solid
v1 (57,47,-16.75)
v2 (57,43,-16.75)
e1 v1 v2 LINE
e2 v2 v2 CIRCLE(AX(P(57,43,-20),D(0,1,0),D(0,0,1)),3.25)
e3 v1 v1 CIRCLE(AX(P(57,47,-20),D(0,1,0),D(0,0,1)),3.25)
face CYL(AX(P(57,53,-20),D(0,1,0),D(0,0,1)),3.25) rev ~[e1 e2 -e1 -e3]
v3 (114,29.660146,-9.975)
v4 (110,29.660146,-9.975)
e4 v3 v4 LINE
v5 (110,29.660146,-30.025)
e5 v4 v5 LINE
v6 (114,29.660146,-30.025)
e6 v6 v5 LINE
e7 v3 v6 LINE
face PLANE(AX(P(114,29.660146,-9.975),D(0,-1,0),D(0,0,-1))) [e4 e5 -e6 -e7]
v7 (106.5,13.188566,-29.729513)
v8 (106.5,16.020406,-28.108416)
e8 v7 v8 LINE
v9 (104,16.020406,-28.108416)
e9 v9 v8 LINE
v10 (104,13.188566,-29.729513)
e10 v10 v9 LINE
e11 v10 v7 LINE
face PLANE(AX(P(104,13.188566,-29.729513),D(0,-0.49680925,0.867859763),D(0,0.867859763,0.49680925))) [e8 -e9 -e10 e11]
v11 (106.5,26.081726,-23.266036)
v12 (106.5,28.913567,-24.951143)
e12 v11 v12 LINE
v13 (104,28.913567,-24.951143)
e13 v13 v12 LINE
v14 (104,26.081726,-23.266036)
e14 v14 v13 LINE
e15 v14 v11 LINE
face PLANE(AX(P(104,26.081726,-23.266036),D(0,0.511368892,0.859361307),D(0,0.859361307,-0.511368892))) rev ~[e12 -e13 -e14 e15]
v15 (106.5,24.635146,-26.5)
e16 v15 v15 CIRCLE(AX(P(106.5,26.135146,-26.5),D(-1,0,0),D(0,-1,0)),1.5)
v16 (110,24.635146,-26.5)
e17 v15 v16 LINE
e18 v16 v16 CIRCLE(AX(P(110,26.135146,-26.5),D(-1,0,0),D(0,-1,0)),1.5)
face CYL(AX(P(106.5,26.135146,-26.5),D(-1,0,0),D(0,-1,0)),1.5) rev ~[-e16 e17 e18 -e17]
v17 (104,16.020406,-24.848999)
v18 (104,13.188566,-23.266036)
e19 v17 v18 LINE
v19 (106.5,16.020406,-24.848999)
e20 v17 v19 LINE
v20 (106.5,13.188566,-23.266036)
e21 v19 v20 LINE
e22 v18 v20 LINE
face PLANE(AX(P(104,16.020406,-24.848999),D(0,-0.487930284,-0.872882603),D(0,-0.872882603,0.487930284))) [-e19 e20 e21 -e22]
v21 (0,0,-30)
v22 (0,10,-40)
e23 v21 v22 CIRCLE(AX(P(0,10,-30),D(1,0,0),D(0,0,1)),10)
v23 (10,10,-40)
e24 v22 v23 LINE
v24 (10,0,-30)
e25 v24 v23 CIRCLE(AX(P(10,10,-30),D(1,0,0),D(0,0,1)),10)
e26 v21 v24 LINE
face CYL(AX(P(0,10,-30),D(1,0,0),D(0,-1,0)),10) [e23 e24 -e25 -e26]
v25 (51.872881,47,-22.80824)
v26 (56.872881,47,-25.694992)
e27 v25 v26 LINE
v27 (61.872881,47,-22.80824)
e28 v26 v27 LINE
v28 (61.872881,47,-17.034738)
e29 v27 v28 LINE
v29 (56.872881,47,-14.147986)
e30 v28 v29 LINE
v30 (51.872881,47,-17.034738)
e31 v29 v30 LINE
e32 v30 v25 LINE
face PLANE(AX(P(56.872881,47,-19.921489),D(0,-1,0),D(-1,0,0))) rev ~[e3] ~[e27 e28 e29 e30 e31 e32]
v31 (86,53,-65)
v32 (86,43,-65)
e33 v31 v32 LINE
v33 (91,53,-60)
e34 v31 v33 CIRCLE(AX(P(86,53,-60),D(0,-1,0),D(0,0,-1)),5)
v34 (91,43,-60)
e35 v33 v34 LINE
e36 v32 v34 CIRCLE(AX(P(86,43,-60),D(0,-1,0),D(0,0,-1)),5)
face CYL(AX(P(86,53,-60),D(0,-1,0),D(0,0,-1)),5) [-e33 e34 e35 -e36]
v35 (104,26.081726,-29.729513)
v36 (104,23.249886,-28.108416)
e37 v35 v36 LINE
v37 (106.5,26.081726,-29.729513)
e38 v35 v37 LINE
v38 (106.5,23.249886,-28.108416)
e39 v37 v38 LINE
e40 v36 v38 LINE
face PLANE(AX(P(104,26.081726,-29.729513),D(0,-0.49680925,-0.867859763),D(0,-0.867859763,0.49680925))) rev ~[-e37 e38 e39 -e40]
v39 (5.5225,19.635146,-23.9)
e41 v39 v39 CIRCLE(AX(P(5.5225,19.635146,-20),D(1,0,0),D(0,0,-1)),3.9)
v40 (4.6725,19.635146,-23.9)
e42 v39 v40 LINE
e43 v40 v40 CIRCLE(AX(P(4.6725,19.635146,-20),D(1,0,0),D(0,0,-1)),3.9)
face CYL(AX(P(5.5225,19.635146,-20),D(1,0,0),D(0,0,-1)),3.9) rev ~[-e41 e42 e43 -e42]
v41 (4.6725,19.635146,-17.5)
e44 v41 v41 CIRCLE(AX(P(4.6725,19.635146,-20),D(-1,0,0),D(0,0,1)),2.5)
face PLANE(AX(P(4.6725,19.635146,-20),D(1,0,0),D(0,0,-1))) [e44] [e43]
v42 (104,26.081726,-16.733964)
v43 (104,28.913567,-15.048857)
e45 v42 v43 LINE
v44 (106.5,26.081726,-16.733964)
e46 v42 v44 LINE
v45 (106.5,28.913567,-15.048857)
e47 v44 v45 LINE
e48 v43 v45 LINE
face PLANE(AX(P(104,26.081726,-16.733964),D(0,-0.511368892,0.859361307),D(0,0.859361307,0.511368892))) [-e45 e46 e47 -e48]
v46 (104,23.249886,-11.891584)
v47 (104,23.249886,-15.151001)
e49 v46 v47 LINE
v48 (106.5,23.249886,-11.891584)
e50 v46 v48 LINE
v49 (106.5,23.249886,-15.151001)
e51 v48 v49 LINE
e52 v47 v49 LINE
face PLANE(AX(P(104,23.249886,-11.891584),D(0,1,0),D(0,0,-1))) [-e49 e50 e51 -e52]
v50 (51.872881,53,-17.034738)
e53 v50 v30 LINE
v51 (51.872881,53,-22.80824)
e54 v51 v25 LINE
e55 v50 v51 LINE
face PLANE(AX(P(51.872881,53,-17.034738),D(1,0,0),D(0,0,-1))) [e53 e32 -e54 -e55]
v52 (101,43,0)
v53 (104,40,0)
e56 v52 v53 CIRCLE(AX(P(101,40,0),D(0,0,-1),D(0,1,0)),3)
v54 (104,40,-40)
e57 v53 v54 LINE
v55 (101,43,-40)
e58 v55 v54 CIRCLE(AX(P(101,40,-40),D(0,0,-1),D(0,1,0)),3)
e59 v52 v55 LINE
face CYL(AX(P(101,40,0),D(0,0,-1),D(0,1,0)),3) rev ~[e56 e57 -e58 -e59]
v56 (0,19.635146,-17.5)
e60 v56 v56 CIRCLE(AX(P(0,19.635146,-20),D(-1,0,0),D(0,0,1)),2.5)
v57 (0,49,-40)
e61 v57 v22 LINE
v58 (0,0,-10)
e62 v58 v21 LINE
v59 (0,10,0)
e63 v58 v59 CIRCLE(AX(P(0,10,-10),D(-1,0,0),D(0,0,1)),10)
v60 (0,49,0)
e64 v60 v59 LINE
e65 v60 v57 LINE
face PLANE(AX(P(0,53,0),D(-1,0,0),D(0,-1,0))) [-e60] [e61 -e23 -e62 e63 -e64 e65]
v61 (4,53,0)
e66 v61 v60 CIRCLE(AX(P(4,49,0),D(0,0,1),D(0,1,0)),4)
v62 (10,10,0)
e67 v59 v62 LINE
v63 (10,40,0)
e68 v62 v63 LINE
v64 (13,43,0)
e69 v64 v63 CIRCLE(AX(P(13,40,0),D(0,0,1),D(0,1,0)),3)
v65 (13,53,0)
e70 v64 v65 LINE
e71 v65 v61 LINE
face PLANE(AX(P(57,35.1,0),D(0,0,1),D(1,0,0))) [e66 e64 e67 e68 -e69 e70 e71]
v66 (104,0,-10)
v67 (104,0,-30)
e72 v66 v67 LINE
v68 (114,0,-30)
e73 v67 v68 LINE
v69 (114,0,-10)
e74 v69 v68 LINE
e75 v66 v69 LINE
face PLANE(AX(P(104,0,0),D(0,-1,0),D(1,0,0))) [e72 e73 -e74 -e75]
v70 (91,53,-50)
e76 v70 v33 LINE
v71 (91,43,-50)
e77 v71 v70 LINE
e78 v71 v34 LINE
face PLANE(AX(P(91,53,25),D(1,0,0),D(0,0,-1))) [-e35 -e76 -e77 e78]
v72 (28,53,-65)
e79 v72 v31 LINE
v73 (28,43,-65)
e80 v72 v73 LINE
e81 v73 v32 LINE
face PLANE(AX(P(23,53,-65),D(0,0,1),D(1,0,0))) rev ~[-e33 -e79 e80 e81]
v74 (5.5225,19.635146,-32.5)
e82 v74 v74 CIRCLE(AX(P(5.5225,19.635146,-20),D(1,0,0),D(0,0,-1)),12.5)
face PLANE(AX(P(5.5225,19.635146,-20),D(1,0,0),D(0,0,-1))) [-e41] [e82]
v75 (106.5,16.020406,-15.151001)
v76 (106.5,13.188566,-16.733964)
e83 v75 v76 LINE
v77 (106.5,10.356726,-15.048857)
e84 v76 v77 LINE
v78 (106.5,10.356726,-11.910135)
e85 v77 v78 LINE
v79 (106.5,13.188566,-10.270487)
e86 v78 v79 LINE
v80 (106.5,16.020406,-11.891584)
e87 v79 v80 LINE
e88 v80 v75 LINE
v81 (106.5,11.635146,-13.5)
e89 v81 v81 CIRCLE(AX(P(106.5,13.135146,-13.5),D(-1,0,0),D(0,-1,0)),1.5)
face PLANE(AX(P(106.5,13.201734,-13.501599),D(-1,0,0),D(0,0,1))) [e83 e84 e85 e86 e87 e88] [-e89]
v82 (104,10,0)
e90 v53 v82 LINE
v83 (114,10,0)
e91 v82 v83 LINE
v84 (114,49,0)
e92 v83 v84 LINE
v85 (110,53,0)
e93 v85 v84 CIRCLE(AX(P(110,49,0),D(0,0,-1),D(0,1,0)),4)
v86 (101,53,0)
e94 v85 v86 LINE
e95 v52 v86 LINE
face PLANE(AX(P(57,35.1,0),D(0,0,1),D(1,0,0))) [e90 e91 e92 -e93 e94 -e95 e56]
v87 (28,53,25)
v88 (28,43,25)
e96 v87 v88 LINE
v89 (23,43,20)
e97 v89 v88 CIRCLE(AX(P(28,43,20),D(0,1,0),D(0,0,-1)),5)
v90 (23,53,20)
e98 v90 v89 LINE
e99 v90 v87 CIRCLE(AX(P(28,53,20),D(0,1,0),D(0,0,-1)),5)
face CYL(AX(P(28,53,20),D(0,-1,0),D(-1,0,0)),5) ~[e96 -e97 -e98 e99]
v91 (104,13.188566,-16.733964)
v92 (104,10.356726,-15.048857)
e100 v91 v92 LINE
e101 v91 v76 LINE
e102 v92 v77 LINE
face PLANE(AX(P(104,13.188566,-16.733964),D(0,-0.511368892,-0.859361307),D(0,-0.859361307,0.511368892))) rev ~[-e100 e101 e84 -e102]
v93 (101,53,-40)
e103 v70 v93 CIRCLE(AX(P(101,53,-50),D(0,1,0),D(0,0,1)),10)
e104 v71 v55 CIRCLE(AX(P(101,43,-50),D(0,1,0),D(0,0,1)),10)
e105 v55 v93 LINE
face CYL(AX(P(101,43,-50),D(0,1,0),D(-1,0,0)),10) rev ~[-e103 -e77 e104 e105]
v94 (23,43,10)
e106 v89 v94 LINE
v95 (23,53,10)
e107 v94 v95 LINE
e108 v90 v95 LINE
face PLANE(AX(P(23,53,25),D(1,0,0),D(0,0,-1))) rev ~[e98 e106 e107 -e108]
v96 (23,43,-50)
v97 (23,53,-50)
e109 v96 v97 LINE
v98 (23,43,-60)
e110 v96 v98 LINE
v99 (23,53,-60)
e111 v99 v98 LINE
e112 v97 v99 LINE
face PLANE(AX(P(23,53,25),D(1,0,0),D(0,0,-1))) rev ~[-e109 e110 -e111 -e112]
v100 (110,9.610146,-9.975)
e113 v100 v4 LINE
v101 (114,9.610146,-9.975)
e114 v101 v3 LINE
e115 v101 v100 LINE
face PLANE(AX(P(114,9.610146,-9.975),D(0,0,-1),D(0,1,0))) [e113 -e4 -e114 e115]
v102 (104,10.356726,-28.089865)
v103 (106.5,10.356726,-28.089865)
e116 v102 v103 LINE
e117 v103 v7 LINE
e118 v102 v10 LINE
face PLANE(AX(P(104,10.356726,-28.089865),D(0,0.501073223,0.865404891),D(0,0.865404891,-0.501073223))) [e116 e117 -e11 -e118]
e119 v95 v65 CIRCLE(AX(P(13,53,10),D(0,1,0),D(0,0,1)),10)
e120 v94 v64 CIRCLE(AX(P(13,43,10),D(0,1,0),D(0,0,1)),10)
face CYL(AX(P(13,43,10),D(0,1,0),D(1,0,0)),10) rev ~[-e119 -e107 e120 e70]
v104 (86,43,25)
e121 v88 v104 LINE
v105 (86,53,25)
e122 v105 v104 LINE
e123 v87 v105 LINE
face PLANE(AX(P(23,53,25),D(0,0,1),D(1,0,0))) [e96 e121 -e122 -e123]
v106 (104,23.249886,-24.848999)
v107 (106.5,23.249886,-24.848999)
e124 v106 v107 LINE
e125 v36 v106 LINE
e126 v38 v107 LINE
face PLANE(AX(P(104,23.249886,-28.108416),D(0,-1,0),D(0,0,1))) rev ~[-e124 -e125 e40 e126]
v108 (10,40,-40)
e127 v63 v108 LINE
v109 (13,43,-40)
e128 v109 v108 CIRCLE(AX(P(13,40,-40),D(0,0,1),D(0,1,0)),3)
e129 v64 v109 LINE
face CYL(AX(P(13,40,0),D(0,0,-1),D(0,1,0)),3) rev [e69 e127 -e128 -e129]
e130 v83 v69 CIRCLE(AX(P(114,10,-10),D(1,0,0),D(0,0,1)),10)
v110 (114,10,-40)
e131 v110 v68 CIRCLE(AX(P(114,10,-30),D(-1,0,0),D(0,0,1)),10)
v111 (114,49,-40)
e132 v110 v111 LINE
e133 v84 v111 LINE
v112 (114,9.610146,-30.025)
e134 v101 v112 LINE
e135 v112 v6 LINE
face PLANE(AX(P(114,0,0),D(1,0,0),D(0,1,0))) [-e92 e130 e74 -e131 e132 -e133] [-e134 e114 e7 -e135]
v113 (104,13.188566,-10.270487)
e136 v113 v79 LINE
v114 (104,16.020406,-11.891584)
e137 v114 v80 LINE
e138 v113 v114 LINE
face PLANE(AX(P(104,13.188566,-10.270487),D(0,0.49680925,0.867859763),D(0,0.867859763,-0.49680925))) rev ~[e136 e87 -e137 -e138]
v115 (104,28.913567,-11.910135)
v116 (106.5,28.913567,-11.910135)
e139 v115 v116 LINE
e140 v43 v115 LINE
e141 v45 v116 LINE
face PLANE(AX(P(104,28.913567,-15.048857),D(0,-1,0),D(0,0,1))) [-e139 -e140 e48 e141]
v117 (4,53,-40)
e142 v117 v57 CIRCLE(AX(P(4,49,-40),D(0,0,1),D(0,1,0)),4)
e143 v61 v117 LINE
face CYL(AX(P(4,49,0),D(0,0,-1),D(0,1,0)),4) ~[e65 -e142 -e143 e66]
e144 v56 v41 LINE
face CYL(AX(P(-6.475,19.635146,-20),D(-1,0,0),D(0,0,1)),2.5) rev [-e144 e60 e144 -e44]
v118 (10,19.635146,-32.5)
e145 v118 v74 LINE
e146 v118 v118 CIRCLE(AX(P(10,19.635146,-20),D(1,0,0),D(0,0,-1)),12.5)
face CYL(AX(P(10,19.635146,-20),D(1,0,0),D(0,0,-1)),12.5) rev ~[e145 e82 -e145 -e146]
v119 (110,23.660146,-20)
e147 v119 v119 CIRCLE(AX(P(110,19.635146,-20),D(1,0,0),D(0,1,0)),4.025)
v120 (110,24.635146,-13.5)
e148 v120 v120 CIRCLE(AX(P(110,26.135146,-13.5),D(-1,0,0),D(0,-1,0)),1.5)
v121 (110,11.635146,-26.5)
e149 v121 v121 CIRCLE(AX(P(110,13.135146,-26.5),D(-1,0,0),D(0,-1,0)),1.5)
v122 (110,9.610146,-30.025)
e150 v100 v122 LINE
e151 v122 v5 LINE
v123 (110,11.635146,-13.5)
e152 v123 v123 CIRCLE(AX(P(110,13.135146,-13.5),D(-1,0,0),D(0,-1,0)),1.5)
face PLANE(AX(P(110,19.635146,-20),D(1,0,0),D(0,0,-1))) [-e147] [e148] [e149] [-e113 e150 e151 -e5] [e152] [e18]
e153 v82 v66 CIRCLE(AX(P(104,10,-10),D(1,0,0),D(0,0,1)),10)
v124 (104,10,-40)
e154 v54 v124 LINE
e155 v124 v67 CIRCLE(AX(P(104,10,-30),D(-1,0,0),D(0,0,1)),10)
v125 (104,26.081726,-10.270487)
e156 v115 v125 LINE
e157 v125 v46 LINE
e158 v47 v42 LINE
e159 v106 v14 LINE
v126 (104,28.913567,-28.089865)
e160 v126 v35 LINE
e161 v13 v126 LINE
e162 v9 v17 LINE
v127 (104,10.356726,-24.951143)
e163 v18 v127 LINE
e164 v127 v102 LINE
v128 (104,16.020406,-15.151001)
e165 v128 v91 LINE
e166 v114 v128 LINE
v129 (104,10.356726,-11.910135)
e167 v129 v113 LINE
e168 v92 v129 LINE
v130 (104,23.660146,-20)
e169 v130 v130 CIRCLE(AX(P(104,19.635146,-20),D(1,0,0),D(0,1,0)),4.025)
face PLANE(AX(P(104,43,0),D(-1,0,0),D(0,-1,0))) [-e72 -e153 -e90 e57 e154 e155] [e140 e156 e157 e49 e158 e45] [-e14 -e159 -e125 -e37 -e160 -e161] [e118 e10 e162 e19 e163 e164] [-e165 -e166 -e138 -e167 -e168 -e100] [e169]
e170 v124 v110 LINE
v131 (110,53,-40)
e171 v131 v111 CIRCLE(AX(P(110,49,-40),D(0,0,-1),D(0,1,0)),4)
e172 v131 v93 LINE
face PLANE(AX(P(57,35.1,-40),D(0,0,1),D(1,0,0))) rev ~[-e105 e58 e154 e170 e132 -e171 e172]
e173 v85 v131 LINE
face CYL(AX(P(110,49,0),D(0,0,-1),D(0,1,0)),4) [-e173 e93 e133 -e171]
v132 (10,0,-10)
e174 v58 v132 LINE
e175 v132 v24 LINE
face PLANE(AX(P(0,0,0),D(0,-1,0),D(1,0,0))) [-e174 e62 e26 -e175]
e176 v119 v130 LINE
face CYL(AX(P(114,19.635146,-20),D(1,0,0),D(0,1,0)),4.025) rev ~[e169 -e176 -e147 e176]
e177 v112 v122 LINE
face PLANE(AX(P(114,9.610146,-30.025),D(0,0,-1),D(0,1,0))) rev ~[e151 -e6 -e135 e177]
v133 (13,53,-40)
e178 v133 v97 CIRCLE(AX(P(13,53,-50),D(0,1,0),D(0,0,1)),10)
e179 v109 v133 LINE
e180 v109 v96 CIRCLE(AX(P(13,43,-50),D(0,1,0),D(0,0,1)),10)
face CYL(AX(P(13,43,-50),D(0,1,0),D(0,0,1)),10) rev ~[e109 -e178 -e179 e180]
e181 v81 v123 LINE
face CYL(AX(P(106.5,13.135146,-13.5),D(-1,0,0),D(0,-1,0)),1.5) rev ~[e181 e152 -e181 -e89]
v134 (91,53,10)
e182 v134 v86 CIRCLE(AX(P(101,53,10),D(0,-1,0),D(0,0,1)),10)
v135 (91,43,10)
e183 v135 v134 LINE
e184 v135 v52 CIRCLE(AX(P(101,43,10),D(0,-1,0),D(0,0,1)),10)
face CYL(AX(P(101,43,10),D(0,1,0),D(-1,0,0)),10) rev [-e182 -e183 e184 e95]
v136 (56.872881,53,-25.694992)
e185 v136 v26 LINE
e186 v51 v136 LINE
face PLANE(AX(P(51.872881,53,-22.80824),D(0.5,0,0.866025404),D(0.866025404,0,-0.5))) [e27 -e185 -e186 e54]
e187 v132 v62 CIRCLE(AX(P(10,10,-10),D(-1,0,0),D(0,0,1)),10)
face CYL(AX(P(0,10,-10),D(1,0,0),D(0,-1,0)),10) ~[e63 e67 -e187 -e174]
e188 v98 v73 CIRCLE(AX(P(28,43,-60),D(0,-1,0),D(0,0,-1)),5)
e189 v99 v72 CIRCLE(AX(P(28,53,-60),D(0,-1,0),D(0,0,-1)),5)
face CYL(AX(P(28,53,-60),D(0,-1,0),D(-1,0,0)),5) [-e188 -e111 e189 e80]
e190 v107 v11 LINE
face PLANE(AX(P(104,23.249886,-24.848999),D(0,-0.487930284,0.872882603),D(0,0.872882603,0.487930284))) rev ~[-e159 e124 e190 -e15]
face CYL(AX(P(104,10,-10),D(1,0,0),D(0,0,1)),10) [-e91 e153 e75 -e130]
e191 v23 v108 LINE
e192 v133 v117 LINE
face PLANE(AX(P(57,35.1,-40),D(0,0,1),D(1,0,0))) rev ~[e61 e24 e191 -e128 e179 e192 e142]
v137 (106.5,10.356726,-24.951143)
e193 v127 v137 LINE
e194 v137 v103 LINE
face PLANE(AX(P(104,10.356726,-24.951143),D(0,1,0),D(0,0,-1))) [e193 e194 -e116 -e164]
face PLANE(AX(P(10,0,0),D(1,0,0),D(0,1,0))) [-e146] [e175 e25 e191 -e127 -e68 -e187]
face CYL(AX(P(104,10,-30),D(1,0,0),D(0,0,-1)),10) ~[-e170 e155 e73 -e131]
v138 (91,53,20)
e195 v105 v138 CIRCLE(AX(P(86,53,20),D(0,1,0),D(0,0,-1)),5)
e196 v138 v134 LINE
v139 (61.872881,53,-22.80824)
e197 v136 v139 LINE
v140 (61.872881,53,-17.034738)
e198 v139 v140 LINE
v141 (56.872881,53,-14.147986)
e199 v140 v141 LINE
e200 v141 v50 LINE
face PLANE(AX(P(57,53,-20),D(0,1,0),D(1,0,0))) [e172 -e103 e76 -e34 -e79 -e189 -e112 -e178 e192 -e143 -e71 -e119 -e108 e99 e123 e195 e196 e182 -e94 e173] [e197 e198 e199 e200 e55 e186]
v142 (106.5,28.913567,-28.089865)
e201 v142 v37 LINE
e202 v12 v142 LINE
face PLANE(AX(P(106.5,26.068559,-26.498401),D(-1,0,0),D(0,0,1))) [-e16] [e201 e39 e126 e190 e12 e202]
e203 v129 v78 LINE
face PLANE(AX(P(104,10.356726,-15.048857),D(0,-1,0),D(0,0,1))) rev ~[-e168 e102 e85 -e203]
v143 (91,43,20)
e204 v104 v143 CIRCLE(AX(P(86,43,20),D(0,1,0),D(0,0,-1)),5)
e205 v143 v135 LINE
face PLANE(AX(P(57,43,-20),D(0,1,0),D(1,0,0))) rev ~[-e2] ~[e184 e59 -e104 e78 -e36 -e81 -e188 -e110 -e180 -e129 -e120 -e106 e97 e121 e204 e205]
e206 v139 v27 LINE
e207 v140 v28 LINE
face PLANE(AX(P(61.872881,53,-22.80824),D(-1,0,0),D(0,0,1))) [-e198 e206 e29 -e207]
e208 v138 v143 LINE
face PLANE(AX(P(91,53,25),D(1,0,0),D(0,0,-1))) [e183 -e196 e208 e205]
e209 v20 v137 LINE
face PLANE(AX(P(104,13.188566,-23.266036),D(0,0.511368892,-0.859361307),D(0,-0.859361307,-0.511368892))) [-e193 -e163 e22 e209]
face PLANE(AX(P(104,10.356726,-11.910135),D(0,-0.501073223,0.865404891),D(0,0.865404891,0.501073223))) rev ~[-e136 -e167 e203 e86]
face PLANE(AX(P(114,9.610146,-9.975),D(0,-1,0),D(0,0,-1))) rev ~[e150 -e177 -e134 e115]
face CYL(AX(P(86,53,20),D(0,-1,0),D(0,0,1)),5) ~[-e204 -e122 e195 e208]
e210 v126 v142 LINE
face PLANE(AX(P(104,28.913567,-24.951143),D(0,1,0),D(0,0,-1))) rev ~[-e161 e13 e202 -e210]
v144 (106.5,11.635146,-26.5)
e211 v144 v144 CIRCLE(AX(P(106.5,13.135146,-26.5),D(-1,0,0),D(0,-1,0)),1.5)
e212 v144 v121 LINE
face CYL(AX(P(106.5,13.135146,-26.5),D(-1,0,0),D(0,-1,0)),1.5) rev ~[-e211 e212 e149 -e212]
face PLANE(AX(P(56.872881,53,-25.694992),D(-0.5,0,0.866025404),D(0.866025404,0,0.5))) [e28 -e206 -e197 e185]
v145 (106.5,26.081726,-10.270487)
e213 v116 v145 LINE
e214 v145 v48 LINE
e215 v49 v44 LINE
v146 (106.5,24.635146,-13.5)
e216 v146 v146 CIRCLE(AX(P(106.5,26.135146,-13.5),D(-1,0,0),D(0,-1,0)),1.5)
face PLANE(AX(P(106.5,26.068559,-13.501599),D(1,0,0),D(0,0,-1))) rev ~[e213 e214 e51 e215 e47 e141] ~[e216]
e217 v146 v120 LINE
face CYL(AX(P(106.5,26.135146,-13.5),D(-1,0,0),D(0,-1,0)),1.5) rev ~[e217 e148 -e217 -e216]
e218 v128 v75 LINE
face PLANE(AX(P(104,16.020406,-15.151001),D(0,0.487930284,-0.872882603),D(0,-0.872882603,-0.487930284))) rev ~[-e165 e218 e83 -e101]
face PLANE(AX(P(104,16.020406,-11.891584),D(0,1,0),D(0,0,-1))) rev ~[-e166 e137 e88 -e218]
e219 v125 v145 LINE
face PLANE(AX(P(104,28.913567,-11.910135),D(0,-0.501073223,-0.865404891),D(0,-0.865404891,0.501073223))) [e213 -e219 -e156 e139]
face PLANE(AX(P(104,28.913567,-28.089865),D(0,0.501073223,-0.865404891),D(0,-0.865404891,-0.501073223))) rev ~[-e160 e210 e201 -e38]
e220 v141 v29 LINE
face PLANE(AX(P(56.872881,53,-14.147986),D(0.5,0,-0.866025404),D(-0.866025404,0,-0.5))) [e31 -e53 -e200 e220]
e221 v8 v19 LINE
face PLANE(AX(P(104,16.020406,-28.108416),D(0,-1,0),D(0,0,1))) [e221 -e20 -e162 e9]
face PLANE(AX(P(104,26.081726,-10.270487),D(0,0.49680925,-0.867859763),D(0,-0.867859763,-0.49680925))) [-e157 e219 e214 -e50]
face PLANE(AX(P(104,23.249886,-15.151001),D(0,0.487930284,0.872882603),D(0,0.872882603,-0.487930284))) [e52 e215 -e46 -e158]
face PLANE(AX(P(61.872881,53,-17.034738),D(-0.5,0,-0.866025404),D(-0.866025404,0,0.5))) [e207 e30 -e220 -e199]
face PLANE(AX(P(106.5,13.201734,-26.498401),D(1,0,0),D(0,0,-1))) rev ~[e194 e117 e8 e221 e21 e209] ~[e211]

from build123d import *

# Parameters (mm, degrees)
BOSS_EXTRUDE1_DEPTH     = 40
SKETCH2_R               = 12.5
CUT_EXTRUDE1_DEPTH      = 4.4775
FILLET1_R               = 10
CUT_EXTRUDE2_DEPTH      = 131.2
CUT_EXTRUDE2_DEPTH_BACK = 14.2
SKETCH4_R               = 2.5
SKETCH6_W               = 68
SKETCH6_H               = 90
BOSS_EXTRUDE4_DEPTH     = 10
FILLET2_R               = 10
FILLET3_R               = 5
FILLET4_R               = 4
CUT_EXTRUDE3_START      = -2.2025
SKETCH7_R               = 3.9
CUT_EXTRUDE3_DEPTH      = 0.85
SKETCH8_R               = 3.25
CUT_EXTRUDE4_DEPTH      = 10
SKETCH9_R               = 4.025
CUT_EXTRUDE5_DEPTH      = 12
SKETCH10_W              = 20.05
SKETCH10_H              = 20.05
CUT_EXTRUDE6_DEPTH      = 4
CUT_EXTRUDE7_DEPTH      = 6
CUT_EXTRUDE9_DEPTH      = 2.5
CUT_EXTRUDE10_REACH     = 138.104
CUT_EXTRUDE10_START     = -2.5
SKETCH15_R              = 1.5
FILLET5_R               = 3


with BuildPart() as part:
    # Sketch1 → Boss-Extrude1 (new body)
    with BuildSketch(Plane.XY):
        Polygon((10, 0), (10, 43), (104, 43), (104, 0), (114, 0), (114, 53), (0, 53), (0, 0), align=None)
    extrude(amount=-BOSS_EXTRUDE1_DEPTH)

    # Sketch2 → Cut-Extrude1 (cut)
    with BuildSketch(Plane(origin=(10, 0, 0), x_dir=(0, 0, -1), z_dir=(1, 0, 0))):
        with Locations((20, 19.635146369)):
            Circle(SKETCH2_R)
    extrude(amount=-CUT_EXTRUDE1_DEPTH, mode=Mode.SUBTRACT)

    # Fillet1
    fillet1_edges = [part.edges().sort_by_distance(p)[0] for p in [
        (5, 0, 0),
        (109, 0, -40),
        (5, 0, -40),
        (109, 0, 0),
    ]]
    fillet(fillet1_edges, radius=FILLET1_R)

    # Sketch4 → Cut-Extrude2 (cut, two sides: drawn at the far end of the back side and taken through both)
    with BuildSketch(Plane(origin=(7.725, 0, 0), x_dir=(0, 0, -1), z_dir=(1, 0, 0)).offset(-CUT_EXTRUDE2_DEPTH_BACK)):
        with Locations(Location((20, 19.635146369, 0), (0, 0, 180))):
            Circle(SKETCH4_R)
    extrude(amount=CUT_EXTRUDE2_DEPTH + CUT_EXTRUDE2_DEPTH_BACK, mode=Mode.SUBTRACT)

    # Sketch6 → Boss-Extrude4 (add)
    with BuildSketch(Plane(origin=(0, 53, 0), x_dir=(1, 0, 0), z_dir=(0, 1, 0))):
        with Locations((57, 20)):
            Rectangle(SKETCH6_W, SKETCH6_H)
    extrude(amount=-BOSS_EXTRUDE4_DEPTH)

    # Fillet2
    fillet2_edges = [part.edges().sort_by_distance(p)[0] for p in [
        (23, 48, 0),
        (91, 48, 0),
        (91, 48, -40),
        (23, 48, -40),
    ]]
    fillet(fillet2_edges, radius=FILLET2_R)

    # Fillet3
    fillet3_edges = [part.edges().sort_by_distance(p)[0] for p in [
        (23, 48, 25),
        (91, 48, -65),
        (91, 48, 25),
        (23, 48, -65),
    ]]
    fillet(fillet3_edges, radius=FILLET3_R)

    # Fillet4
    fillet4_edges = [part.edges().sort_by_distance(p)[0] for p in [
        (0, 53, -20),
        (114, 53, -20),
    ]]
    fillet(fillet4_edges, radius=FILLET4_R)

    # Sketch7 → Cut-Extrude3 (cut)
    with BuildSketch(Plane(origin=(7.725, 0, 0), x_dir=(0, 0, -1), z_dir=(1, 0, 0)).offset(CUT_EXTRUDE3_START)):
        with Locations((20, 19.635146369)):
            Circle(SKETCH7_R)
    extrude(amount=-CUT_EXTRUDE3_DEPTH, mode=Mode.SUBTRACT)

    # Sketch8 → Cut-Extrude4 (cut)
    with BuildSketch(Plane(origin=(0, 53, 0), x_dir=(1, 0, 0), z_dir=(0, 1, 0))):
        with Locations(Location((57, 20, 0), (0, 0, 270))):
            Circle(SKETCH8_R)
    extrude(amount=-CUT_EXTRUDE4_DEPTH, mode=Mode.SUBTRACT)

    # Sketch9 → Cut-Extrude5 (cut)
    with BuildSketch(Plane(origin=(114, 0, 0), x_dir=(0, 0, -1), z_dir=(1, 0, 0))):
        with Locations(Location((20, 19.635146369, 0), (0, 0, 90))):
            Circle(SKETCH9_R)
    extrude(amount=-CUT_EXTRUDE5_DEPTH, mode=Mode.SUBTRACT)

    # Sketch10 → Cut-Extrude6 (cut)
    with BuildSketch(Plane(origin=(114, 0, 0), x_dir=(0, 0, -1), z_dir=(1, 0, 0))):
        with Locations((20, 19.635146369)):
            Rectangle(SKETCH10_W, SKETCH10_H)
    extrude(amount=-CUT_EXTRUDE6_DEPTH, mode=Mode.SUBTRACT)

    # Sketch14 → Cut-Extrude7 (cut)
    with BuildSketch(Plane(origin=(0, 53, 0), x_dir=(1, 0, 0), z_dir=(0, 1, 0))):
        Polygon((56.872881106, 25.694991584), (61.872881106, 22.808240238), (61.872881106, 17.034737546), (56.872881106, 14.1479862), (51.872881106, 17.034737546), (51.872881106, 22.808240238), align=None)
    extrude(amount=-CUT_EXTRUDE7_DEPTH, mode=Mode.SUBTRACT)

    # Sketch18 → Cut-Extrude9 (cut)
    with BuildSketch(Plane.ZY.offset(-104)):
        Polygon((-15.048857438, 28.91356654), (-11.910134999, 28.91356654), (-10.270487153, 26.081726401), (-11.891583597, 23.249886262), (-15.151000849, 23.249886262), (-16.733963505, 26.081726401), align=None)
        Polygon((-23.266036495, 26.081726401), (-24.951142562, 28.91356654), (-28.089865001, 28.91356654), (-29.729512847, 26.081726401), (-28.108416403, 23.249886262), (-24.848999151, 23.249886262), align=None)
        Polygon((-16.733963505, 13.188566337), (-15.048857438, 10.356726198), (-11.910134999, 10.356726198), (-10.270487153, 13.188566337), (-11.891583597, 16.020406476), (-15.151000849, 16.020406476), align=None)
        Polygon((-24.848999151, 16.020406476), (-23.266036495, 13.188566337), (-24.951142562, 10.356726198), (-28.089865001, 10.356726198), (-29.729512847, 13.188566337), (-28.108416403, 16.020406476), align=None)
    extrude(amount=-CUT_EXTRUDE9_DEPTH, mode=Mode.SUBTRACT)

    # Sketch15 → Cut-Extrude10 (cut, up to next)
    with BuildSketch(Plane.ZY.offset(-104).offset(CUT_EXTRUDE10_START), mode=Mode.PRIVATE) as cut_extrude10_sk1:
        with Locations(Location((-26.5, 26.135146369, 0), (0, 0, 270))):
            Circle(SKETCH15_R)
    cut_extrude10_tool1 = extrude(cut_extrude10_sk1.sketch, amount=-CUT_EXTRUDE10_REACH, mode=Mode.PRIVATE) & part.part
    # Sketch15 → Cut-Extrude10 (cut, up to next)
    with BuildSketch(Plane.ZY.offset(-104).offset(CUT_EXTRUDE10_START), mode=Mode.PRIVATE) as cut_extrude10_sk2:
        with Locations(Location((-13.5, 26.135146369, 0), (0, 0, 270))):
            Circle(SKETCH15_R)
    cut_extrude10_tool2 = extrude(cut_extrude10_sk2.sketch, amount=-CUT_EXTRUDE10_REACH, mode=Mode.PRIVATE) & part.part
    # Sketch15 → Cut-Extrude10 (cut, up to next)
    with BuildSketch(Plane.ZY.offset(-104).offset(CUT_EXTRUDE10_START), mode=Mode.PRIVATE) as cut_extrude10_sk3:
        with Locations(Location((-13.5, 13.135146369, 0), (0, 0, 270))):
            Circle(SKETCH15_R)
    cut_extrude10_tool3 = extrude(cut_extrude10_sk3.sketch, amount=-CUT_EXTRUDE10_REACH, mode=Mode.PRIVATE) & part.part
    # Sketch15 → Cut-Extrude10 (cut, up to next)
    with BuildSketch(Plane.ZY.offset(-104).offset(CUT_EXTRUDE10_START), mode=Mode.PRIVATE) as cut_extrude10_sk4:
        with Locations(Location((-26.5, 13.135146369, 0), (0, 0, 270))):
            Circle(SKETCH15_R)
    cut_extrude10_tool4 = extrude(cut_extrude10_sk4.sketch, amount=-CUT_EXTRUDE10_REACH, mode=Mode.PRIVATE) & part.part
    add(cut_extrude10_tool1.solids().sort_by_distance((106.5, 26.135146, -26.5))[0], mode=Mode.SUBTRACT)
    add(cut_extrude10_tool2.solids().sort_by_distance((106.5, 26.135146, -13.5))[0], mode=Mode.SUBTRACT)
    add(cut_extrude10_tool3.solids().sort_by_distance((106.5, 13.135146, -13.5))[0], mode=Mode.SUBTRACT)
    add(cut_extrude10_tool4.solids().sort_by_distance((106.5, 13.135146, -26.5))[0], mode=Mode.SUBTRACT)

    # Fillet5
    fillet5_edges = [part.edges().sort_by_distance(p)[0] for p in [
        (104, 43, -20),
        (10, 43, -20),
    ]]
    fillet(fillet5_edges, radius=FILLET5_R)


solid = part.part
